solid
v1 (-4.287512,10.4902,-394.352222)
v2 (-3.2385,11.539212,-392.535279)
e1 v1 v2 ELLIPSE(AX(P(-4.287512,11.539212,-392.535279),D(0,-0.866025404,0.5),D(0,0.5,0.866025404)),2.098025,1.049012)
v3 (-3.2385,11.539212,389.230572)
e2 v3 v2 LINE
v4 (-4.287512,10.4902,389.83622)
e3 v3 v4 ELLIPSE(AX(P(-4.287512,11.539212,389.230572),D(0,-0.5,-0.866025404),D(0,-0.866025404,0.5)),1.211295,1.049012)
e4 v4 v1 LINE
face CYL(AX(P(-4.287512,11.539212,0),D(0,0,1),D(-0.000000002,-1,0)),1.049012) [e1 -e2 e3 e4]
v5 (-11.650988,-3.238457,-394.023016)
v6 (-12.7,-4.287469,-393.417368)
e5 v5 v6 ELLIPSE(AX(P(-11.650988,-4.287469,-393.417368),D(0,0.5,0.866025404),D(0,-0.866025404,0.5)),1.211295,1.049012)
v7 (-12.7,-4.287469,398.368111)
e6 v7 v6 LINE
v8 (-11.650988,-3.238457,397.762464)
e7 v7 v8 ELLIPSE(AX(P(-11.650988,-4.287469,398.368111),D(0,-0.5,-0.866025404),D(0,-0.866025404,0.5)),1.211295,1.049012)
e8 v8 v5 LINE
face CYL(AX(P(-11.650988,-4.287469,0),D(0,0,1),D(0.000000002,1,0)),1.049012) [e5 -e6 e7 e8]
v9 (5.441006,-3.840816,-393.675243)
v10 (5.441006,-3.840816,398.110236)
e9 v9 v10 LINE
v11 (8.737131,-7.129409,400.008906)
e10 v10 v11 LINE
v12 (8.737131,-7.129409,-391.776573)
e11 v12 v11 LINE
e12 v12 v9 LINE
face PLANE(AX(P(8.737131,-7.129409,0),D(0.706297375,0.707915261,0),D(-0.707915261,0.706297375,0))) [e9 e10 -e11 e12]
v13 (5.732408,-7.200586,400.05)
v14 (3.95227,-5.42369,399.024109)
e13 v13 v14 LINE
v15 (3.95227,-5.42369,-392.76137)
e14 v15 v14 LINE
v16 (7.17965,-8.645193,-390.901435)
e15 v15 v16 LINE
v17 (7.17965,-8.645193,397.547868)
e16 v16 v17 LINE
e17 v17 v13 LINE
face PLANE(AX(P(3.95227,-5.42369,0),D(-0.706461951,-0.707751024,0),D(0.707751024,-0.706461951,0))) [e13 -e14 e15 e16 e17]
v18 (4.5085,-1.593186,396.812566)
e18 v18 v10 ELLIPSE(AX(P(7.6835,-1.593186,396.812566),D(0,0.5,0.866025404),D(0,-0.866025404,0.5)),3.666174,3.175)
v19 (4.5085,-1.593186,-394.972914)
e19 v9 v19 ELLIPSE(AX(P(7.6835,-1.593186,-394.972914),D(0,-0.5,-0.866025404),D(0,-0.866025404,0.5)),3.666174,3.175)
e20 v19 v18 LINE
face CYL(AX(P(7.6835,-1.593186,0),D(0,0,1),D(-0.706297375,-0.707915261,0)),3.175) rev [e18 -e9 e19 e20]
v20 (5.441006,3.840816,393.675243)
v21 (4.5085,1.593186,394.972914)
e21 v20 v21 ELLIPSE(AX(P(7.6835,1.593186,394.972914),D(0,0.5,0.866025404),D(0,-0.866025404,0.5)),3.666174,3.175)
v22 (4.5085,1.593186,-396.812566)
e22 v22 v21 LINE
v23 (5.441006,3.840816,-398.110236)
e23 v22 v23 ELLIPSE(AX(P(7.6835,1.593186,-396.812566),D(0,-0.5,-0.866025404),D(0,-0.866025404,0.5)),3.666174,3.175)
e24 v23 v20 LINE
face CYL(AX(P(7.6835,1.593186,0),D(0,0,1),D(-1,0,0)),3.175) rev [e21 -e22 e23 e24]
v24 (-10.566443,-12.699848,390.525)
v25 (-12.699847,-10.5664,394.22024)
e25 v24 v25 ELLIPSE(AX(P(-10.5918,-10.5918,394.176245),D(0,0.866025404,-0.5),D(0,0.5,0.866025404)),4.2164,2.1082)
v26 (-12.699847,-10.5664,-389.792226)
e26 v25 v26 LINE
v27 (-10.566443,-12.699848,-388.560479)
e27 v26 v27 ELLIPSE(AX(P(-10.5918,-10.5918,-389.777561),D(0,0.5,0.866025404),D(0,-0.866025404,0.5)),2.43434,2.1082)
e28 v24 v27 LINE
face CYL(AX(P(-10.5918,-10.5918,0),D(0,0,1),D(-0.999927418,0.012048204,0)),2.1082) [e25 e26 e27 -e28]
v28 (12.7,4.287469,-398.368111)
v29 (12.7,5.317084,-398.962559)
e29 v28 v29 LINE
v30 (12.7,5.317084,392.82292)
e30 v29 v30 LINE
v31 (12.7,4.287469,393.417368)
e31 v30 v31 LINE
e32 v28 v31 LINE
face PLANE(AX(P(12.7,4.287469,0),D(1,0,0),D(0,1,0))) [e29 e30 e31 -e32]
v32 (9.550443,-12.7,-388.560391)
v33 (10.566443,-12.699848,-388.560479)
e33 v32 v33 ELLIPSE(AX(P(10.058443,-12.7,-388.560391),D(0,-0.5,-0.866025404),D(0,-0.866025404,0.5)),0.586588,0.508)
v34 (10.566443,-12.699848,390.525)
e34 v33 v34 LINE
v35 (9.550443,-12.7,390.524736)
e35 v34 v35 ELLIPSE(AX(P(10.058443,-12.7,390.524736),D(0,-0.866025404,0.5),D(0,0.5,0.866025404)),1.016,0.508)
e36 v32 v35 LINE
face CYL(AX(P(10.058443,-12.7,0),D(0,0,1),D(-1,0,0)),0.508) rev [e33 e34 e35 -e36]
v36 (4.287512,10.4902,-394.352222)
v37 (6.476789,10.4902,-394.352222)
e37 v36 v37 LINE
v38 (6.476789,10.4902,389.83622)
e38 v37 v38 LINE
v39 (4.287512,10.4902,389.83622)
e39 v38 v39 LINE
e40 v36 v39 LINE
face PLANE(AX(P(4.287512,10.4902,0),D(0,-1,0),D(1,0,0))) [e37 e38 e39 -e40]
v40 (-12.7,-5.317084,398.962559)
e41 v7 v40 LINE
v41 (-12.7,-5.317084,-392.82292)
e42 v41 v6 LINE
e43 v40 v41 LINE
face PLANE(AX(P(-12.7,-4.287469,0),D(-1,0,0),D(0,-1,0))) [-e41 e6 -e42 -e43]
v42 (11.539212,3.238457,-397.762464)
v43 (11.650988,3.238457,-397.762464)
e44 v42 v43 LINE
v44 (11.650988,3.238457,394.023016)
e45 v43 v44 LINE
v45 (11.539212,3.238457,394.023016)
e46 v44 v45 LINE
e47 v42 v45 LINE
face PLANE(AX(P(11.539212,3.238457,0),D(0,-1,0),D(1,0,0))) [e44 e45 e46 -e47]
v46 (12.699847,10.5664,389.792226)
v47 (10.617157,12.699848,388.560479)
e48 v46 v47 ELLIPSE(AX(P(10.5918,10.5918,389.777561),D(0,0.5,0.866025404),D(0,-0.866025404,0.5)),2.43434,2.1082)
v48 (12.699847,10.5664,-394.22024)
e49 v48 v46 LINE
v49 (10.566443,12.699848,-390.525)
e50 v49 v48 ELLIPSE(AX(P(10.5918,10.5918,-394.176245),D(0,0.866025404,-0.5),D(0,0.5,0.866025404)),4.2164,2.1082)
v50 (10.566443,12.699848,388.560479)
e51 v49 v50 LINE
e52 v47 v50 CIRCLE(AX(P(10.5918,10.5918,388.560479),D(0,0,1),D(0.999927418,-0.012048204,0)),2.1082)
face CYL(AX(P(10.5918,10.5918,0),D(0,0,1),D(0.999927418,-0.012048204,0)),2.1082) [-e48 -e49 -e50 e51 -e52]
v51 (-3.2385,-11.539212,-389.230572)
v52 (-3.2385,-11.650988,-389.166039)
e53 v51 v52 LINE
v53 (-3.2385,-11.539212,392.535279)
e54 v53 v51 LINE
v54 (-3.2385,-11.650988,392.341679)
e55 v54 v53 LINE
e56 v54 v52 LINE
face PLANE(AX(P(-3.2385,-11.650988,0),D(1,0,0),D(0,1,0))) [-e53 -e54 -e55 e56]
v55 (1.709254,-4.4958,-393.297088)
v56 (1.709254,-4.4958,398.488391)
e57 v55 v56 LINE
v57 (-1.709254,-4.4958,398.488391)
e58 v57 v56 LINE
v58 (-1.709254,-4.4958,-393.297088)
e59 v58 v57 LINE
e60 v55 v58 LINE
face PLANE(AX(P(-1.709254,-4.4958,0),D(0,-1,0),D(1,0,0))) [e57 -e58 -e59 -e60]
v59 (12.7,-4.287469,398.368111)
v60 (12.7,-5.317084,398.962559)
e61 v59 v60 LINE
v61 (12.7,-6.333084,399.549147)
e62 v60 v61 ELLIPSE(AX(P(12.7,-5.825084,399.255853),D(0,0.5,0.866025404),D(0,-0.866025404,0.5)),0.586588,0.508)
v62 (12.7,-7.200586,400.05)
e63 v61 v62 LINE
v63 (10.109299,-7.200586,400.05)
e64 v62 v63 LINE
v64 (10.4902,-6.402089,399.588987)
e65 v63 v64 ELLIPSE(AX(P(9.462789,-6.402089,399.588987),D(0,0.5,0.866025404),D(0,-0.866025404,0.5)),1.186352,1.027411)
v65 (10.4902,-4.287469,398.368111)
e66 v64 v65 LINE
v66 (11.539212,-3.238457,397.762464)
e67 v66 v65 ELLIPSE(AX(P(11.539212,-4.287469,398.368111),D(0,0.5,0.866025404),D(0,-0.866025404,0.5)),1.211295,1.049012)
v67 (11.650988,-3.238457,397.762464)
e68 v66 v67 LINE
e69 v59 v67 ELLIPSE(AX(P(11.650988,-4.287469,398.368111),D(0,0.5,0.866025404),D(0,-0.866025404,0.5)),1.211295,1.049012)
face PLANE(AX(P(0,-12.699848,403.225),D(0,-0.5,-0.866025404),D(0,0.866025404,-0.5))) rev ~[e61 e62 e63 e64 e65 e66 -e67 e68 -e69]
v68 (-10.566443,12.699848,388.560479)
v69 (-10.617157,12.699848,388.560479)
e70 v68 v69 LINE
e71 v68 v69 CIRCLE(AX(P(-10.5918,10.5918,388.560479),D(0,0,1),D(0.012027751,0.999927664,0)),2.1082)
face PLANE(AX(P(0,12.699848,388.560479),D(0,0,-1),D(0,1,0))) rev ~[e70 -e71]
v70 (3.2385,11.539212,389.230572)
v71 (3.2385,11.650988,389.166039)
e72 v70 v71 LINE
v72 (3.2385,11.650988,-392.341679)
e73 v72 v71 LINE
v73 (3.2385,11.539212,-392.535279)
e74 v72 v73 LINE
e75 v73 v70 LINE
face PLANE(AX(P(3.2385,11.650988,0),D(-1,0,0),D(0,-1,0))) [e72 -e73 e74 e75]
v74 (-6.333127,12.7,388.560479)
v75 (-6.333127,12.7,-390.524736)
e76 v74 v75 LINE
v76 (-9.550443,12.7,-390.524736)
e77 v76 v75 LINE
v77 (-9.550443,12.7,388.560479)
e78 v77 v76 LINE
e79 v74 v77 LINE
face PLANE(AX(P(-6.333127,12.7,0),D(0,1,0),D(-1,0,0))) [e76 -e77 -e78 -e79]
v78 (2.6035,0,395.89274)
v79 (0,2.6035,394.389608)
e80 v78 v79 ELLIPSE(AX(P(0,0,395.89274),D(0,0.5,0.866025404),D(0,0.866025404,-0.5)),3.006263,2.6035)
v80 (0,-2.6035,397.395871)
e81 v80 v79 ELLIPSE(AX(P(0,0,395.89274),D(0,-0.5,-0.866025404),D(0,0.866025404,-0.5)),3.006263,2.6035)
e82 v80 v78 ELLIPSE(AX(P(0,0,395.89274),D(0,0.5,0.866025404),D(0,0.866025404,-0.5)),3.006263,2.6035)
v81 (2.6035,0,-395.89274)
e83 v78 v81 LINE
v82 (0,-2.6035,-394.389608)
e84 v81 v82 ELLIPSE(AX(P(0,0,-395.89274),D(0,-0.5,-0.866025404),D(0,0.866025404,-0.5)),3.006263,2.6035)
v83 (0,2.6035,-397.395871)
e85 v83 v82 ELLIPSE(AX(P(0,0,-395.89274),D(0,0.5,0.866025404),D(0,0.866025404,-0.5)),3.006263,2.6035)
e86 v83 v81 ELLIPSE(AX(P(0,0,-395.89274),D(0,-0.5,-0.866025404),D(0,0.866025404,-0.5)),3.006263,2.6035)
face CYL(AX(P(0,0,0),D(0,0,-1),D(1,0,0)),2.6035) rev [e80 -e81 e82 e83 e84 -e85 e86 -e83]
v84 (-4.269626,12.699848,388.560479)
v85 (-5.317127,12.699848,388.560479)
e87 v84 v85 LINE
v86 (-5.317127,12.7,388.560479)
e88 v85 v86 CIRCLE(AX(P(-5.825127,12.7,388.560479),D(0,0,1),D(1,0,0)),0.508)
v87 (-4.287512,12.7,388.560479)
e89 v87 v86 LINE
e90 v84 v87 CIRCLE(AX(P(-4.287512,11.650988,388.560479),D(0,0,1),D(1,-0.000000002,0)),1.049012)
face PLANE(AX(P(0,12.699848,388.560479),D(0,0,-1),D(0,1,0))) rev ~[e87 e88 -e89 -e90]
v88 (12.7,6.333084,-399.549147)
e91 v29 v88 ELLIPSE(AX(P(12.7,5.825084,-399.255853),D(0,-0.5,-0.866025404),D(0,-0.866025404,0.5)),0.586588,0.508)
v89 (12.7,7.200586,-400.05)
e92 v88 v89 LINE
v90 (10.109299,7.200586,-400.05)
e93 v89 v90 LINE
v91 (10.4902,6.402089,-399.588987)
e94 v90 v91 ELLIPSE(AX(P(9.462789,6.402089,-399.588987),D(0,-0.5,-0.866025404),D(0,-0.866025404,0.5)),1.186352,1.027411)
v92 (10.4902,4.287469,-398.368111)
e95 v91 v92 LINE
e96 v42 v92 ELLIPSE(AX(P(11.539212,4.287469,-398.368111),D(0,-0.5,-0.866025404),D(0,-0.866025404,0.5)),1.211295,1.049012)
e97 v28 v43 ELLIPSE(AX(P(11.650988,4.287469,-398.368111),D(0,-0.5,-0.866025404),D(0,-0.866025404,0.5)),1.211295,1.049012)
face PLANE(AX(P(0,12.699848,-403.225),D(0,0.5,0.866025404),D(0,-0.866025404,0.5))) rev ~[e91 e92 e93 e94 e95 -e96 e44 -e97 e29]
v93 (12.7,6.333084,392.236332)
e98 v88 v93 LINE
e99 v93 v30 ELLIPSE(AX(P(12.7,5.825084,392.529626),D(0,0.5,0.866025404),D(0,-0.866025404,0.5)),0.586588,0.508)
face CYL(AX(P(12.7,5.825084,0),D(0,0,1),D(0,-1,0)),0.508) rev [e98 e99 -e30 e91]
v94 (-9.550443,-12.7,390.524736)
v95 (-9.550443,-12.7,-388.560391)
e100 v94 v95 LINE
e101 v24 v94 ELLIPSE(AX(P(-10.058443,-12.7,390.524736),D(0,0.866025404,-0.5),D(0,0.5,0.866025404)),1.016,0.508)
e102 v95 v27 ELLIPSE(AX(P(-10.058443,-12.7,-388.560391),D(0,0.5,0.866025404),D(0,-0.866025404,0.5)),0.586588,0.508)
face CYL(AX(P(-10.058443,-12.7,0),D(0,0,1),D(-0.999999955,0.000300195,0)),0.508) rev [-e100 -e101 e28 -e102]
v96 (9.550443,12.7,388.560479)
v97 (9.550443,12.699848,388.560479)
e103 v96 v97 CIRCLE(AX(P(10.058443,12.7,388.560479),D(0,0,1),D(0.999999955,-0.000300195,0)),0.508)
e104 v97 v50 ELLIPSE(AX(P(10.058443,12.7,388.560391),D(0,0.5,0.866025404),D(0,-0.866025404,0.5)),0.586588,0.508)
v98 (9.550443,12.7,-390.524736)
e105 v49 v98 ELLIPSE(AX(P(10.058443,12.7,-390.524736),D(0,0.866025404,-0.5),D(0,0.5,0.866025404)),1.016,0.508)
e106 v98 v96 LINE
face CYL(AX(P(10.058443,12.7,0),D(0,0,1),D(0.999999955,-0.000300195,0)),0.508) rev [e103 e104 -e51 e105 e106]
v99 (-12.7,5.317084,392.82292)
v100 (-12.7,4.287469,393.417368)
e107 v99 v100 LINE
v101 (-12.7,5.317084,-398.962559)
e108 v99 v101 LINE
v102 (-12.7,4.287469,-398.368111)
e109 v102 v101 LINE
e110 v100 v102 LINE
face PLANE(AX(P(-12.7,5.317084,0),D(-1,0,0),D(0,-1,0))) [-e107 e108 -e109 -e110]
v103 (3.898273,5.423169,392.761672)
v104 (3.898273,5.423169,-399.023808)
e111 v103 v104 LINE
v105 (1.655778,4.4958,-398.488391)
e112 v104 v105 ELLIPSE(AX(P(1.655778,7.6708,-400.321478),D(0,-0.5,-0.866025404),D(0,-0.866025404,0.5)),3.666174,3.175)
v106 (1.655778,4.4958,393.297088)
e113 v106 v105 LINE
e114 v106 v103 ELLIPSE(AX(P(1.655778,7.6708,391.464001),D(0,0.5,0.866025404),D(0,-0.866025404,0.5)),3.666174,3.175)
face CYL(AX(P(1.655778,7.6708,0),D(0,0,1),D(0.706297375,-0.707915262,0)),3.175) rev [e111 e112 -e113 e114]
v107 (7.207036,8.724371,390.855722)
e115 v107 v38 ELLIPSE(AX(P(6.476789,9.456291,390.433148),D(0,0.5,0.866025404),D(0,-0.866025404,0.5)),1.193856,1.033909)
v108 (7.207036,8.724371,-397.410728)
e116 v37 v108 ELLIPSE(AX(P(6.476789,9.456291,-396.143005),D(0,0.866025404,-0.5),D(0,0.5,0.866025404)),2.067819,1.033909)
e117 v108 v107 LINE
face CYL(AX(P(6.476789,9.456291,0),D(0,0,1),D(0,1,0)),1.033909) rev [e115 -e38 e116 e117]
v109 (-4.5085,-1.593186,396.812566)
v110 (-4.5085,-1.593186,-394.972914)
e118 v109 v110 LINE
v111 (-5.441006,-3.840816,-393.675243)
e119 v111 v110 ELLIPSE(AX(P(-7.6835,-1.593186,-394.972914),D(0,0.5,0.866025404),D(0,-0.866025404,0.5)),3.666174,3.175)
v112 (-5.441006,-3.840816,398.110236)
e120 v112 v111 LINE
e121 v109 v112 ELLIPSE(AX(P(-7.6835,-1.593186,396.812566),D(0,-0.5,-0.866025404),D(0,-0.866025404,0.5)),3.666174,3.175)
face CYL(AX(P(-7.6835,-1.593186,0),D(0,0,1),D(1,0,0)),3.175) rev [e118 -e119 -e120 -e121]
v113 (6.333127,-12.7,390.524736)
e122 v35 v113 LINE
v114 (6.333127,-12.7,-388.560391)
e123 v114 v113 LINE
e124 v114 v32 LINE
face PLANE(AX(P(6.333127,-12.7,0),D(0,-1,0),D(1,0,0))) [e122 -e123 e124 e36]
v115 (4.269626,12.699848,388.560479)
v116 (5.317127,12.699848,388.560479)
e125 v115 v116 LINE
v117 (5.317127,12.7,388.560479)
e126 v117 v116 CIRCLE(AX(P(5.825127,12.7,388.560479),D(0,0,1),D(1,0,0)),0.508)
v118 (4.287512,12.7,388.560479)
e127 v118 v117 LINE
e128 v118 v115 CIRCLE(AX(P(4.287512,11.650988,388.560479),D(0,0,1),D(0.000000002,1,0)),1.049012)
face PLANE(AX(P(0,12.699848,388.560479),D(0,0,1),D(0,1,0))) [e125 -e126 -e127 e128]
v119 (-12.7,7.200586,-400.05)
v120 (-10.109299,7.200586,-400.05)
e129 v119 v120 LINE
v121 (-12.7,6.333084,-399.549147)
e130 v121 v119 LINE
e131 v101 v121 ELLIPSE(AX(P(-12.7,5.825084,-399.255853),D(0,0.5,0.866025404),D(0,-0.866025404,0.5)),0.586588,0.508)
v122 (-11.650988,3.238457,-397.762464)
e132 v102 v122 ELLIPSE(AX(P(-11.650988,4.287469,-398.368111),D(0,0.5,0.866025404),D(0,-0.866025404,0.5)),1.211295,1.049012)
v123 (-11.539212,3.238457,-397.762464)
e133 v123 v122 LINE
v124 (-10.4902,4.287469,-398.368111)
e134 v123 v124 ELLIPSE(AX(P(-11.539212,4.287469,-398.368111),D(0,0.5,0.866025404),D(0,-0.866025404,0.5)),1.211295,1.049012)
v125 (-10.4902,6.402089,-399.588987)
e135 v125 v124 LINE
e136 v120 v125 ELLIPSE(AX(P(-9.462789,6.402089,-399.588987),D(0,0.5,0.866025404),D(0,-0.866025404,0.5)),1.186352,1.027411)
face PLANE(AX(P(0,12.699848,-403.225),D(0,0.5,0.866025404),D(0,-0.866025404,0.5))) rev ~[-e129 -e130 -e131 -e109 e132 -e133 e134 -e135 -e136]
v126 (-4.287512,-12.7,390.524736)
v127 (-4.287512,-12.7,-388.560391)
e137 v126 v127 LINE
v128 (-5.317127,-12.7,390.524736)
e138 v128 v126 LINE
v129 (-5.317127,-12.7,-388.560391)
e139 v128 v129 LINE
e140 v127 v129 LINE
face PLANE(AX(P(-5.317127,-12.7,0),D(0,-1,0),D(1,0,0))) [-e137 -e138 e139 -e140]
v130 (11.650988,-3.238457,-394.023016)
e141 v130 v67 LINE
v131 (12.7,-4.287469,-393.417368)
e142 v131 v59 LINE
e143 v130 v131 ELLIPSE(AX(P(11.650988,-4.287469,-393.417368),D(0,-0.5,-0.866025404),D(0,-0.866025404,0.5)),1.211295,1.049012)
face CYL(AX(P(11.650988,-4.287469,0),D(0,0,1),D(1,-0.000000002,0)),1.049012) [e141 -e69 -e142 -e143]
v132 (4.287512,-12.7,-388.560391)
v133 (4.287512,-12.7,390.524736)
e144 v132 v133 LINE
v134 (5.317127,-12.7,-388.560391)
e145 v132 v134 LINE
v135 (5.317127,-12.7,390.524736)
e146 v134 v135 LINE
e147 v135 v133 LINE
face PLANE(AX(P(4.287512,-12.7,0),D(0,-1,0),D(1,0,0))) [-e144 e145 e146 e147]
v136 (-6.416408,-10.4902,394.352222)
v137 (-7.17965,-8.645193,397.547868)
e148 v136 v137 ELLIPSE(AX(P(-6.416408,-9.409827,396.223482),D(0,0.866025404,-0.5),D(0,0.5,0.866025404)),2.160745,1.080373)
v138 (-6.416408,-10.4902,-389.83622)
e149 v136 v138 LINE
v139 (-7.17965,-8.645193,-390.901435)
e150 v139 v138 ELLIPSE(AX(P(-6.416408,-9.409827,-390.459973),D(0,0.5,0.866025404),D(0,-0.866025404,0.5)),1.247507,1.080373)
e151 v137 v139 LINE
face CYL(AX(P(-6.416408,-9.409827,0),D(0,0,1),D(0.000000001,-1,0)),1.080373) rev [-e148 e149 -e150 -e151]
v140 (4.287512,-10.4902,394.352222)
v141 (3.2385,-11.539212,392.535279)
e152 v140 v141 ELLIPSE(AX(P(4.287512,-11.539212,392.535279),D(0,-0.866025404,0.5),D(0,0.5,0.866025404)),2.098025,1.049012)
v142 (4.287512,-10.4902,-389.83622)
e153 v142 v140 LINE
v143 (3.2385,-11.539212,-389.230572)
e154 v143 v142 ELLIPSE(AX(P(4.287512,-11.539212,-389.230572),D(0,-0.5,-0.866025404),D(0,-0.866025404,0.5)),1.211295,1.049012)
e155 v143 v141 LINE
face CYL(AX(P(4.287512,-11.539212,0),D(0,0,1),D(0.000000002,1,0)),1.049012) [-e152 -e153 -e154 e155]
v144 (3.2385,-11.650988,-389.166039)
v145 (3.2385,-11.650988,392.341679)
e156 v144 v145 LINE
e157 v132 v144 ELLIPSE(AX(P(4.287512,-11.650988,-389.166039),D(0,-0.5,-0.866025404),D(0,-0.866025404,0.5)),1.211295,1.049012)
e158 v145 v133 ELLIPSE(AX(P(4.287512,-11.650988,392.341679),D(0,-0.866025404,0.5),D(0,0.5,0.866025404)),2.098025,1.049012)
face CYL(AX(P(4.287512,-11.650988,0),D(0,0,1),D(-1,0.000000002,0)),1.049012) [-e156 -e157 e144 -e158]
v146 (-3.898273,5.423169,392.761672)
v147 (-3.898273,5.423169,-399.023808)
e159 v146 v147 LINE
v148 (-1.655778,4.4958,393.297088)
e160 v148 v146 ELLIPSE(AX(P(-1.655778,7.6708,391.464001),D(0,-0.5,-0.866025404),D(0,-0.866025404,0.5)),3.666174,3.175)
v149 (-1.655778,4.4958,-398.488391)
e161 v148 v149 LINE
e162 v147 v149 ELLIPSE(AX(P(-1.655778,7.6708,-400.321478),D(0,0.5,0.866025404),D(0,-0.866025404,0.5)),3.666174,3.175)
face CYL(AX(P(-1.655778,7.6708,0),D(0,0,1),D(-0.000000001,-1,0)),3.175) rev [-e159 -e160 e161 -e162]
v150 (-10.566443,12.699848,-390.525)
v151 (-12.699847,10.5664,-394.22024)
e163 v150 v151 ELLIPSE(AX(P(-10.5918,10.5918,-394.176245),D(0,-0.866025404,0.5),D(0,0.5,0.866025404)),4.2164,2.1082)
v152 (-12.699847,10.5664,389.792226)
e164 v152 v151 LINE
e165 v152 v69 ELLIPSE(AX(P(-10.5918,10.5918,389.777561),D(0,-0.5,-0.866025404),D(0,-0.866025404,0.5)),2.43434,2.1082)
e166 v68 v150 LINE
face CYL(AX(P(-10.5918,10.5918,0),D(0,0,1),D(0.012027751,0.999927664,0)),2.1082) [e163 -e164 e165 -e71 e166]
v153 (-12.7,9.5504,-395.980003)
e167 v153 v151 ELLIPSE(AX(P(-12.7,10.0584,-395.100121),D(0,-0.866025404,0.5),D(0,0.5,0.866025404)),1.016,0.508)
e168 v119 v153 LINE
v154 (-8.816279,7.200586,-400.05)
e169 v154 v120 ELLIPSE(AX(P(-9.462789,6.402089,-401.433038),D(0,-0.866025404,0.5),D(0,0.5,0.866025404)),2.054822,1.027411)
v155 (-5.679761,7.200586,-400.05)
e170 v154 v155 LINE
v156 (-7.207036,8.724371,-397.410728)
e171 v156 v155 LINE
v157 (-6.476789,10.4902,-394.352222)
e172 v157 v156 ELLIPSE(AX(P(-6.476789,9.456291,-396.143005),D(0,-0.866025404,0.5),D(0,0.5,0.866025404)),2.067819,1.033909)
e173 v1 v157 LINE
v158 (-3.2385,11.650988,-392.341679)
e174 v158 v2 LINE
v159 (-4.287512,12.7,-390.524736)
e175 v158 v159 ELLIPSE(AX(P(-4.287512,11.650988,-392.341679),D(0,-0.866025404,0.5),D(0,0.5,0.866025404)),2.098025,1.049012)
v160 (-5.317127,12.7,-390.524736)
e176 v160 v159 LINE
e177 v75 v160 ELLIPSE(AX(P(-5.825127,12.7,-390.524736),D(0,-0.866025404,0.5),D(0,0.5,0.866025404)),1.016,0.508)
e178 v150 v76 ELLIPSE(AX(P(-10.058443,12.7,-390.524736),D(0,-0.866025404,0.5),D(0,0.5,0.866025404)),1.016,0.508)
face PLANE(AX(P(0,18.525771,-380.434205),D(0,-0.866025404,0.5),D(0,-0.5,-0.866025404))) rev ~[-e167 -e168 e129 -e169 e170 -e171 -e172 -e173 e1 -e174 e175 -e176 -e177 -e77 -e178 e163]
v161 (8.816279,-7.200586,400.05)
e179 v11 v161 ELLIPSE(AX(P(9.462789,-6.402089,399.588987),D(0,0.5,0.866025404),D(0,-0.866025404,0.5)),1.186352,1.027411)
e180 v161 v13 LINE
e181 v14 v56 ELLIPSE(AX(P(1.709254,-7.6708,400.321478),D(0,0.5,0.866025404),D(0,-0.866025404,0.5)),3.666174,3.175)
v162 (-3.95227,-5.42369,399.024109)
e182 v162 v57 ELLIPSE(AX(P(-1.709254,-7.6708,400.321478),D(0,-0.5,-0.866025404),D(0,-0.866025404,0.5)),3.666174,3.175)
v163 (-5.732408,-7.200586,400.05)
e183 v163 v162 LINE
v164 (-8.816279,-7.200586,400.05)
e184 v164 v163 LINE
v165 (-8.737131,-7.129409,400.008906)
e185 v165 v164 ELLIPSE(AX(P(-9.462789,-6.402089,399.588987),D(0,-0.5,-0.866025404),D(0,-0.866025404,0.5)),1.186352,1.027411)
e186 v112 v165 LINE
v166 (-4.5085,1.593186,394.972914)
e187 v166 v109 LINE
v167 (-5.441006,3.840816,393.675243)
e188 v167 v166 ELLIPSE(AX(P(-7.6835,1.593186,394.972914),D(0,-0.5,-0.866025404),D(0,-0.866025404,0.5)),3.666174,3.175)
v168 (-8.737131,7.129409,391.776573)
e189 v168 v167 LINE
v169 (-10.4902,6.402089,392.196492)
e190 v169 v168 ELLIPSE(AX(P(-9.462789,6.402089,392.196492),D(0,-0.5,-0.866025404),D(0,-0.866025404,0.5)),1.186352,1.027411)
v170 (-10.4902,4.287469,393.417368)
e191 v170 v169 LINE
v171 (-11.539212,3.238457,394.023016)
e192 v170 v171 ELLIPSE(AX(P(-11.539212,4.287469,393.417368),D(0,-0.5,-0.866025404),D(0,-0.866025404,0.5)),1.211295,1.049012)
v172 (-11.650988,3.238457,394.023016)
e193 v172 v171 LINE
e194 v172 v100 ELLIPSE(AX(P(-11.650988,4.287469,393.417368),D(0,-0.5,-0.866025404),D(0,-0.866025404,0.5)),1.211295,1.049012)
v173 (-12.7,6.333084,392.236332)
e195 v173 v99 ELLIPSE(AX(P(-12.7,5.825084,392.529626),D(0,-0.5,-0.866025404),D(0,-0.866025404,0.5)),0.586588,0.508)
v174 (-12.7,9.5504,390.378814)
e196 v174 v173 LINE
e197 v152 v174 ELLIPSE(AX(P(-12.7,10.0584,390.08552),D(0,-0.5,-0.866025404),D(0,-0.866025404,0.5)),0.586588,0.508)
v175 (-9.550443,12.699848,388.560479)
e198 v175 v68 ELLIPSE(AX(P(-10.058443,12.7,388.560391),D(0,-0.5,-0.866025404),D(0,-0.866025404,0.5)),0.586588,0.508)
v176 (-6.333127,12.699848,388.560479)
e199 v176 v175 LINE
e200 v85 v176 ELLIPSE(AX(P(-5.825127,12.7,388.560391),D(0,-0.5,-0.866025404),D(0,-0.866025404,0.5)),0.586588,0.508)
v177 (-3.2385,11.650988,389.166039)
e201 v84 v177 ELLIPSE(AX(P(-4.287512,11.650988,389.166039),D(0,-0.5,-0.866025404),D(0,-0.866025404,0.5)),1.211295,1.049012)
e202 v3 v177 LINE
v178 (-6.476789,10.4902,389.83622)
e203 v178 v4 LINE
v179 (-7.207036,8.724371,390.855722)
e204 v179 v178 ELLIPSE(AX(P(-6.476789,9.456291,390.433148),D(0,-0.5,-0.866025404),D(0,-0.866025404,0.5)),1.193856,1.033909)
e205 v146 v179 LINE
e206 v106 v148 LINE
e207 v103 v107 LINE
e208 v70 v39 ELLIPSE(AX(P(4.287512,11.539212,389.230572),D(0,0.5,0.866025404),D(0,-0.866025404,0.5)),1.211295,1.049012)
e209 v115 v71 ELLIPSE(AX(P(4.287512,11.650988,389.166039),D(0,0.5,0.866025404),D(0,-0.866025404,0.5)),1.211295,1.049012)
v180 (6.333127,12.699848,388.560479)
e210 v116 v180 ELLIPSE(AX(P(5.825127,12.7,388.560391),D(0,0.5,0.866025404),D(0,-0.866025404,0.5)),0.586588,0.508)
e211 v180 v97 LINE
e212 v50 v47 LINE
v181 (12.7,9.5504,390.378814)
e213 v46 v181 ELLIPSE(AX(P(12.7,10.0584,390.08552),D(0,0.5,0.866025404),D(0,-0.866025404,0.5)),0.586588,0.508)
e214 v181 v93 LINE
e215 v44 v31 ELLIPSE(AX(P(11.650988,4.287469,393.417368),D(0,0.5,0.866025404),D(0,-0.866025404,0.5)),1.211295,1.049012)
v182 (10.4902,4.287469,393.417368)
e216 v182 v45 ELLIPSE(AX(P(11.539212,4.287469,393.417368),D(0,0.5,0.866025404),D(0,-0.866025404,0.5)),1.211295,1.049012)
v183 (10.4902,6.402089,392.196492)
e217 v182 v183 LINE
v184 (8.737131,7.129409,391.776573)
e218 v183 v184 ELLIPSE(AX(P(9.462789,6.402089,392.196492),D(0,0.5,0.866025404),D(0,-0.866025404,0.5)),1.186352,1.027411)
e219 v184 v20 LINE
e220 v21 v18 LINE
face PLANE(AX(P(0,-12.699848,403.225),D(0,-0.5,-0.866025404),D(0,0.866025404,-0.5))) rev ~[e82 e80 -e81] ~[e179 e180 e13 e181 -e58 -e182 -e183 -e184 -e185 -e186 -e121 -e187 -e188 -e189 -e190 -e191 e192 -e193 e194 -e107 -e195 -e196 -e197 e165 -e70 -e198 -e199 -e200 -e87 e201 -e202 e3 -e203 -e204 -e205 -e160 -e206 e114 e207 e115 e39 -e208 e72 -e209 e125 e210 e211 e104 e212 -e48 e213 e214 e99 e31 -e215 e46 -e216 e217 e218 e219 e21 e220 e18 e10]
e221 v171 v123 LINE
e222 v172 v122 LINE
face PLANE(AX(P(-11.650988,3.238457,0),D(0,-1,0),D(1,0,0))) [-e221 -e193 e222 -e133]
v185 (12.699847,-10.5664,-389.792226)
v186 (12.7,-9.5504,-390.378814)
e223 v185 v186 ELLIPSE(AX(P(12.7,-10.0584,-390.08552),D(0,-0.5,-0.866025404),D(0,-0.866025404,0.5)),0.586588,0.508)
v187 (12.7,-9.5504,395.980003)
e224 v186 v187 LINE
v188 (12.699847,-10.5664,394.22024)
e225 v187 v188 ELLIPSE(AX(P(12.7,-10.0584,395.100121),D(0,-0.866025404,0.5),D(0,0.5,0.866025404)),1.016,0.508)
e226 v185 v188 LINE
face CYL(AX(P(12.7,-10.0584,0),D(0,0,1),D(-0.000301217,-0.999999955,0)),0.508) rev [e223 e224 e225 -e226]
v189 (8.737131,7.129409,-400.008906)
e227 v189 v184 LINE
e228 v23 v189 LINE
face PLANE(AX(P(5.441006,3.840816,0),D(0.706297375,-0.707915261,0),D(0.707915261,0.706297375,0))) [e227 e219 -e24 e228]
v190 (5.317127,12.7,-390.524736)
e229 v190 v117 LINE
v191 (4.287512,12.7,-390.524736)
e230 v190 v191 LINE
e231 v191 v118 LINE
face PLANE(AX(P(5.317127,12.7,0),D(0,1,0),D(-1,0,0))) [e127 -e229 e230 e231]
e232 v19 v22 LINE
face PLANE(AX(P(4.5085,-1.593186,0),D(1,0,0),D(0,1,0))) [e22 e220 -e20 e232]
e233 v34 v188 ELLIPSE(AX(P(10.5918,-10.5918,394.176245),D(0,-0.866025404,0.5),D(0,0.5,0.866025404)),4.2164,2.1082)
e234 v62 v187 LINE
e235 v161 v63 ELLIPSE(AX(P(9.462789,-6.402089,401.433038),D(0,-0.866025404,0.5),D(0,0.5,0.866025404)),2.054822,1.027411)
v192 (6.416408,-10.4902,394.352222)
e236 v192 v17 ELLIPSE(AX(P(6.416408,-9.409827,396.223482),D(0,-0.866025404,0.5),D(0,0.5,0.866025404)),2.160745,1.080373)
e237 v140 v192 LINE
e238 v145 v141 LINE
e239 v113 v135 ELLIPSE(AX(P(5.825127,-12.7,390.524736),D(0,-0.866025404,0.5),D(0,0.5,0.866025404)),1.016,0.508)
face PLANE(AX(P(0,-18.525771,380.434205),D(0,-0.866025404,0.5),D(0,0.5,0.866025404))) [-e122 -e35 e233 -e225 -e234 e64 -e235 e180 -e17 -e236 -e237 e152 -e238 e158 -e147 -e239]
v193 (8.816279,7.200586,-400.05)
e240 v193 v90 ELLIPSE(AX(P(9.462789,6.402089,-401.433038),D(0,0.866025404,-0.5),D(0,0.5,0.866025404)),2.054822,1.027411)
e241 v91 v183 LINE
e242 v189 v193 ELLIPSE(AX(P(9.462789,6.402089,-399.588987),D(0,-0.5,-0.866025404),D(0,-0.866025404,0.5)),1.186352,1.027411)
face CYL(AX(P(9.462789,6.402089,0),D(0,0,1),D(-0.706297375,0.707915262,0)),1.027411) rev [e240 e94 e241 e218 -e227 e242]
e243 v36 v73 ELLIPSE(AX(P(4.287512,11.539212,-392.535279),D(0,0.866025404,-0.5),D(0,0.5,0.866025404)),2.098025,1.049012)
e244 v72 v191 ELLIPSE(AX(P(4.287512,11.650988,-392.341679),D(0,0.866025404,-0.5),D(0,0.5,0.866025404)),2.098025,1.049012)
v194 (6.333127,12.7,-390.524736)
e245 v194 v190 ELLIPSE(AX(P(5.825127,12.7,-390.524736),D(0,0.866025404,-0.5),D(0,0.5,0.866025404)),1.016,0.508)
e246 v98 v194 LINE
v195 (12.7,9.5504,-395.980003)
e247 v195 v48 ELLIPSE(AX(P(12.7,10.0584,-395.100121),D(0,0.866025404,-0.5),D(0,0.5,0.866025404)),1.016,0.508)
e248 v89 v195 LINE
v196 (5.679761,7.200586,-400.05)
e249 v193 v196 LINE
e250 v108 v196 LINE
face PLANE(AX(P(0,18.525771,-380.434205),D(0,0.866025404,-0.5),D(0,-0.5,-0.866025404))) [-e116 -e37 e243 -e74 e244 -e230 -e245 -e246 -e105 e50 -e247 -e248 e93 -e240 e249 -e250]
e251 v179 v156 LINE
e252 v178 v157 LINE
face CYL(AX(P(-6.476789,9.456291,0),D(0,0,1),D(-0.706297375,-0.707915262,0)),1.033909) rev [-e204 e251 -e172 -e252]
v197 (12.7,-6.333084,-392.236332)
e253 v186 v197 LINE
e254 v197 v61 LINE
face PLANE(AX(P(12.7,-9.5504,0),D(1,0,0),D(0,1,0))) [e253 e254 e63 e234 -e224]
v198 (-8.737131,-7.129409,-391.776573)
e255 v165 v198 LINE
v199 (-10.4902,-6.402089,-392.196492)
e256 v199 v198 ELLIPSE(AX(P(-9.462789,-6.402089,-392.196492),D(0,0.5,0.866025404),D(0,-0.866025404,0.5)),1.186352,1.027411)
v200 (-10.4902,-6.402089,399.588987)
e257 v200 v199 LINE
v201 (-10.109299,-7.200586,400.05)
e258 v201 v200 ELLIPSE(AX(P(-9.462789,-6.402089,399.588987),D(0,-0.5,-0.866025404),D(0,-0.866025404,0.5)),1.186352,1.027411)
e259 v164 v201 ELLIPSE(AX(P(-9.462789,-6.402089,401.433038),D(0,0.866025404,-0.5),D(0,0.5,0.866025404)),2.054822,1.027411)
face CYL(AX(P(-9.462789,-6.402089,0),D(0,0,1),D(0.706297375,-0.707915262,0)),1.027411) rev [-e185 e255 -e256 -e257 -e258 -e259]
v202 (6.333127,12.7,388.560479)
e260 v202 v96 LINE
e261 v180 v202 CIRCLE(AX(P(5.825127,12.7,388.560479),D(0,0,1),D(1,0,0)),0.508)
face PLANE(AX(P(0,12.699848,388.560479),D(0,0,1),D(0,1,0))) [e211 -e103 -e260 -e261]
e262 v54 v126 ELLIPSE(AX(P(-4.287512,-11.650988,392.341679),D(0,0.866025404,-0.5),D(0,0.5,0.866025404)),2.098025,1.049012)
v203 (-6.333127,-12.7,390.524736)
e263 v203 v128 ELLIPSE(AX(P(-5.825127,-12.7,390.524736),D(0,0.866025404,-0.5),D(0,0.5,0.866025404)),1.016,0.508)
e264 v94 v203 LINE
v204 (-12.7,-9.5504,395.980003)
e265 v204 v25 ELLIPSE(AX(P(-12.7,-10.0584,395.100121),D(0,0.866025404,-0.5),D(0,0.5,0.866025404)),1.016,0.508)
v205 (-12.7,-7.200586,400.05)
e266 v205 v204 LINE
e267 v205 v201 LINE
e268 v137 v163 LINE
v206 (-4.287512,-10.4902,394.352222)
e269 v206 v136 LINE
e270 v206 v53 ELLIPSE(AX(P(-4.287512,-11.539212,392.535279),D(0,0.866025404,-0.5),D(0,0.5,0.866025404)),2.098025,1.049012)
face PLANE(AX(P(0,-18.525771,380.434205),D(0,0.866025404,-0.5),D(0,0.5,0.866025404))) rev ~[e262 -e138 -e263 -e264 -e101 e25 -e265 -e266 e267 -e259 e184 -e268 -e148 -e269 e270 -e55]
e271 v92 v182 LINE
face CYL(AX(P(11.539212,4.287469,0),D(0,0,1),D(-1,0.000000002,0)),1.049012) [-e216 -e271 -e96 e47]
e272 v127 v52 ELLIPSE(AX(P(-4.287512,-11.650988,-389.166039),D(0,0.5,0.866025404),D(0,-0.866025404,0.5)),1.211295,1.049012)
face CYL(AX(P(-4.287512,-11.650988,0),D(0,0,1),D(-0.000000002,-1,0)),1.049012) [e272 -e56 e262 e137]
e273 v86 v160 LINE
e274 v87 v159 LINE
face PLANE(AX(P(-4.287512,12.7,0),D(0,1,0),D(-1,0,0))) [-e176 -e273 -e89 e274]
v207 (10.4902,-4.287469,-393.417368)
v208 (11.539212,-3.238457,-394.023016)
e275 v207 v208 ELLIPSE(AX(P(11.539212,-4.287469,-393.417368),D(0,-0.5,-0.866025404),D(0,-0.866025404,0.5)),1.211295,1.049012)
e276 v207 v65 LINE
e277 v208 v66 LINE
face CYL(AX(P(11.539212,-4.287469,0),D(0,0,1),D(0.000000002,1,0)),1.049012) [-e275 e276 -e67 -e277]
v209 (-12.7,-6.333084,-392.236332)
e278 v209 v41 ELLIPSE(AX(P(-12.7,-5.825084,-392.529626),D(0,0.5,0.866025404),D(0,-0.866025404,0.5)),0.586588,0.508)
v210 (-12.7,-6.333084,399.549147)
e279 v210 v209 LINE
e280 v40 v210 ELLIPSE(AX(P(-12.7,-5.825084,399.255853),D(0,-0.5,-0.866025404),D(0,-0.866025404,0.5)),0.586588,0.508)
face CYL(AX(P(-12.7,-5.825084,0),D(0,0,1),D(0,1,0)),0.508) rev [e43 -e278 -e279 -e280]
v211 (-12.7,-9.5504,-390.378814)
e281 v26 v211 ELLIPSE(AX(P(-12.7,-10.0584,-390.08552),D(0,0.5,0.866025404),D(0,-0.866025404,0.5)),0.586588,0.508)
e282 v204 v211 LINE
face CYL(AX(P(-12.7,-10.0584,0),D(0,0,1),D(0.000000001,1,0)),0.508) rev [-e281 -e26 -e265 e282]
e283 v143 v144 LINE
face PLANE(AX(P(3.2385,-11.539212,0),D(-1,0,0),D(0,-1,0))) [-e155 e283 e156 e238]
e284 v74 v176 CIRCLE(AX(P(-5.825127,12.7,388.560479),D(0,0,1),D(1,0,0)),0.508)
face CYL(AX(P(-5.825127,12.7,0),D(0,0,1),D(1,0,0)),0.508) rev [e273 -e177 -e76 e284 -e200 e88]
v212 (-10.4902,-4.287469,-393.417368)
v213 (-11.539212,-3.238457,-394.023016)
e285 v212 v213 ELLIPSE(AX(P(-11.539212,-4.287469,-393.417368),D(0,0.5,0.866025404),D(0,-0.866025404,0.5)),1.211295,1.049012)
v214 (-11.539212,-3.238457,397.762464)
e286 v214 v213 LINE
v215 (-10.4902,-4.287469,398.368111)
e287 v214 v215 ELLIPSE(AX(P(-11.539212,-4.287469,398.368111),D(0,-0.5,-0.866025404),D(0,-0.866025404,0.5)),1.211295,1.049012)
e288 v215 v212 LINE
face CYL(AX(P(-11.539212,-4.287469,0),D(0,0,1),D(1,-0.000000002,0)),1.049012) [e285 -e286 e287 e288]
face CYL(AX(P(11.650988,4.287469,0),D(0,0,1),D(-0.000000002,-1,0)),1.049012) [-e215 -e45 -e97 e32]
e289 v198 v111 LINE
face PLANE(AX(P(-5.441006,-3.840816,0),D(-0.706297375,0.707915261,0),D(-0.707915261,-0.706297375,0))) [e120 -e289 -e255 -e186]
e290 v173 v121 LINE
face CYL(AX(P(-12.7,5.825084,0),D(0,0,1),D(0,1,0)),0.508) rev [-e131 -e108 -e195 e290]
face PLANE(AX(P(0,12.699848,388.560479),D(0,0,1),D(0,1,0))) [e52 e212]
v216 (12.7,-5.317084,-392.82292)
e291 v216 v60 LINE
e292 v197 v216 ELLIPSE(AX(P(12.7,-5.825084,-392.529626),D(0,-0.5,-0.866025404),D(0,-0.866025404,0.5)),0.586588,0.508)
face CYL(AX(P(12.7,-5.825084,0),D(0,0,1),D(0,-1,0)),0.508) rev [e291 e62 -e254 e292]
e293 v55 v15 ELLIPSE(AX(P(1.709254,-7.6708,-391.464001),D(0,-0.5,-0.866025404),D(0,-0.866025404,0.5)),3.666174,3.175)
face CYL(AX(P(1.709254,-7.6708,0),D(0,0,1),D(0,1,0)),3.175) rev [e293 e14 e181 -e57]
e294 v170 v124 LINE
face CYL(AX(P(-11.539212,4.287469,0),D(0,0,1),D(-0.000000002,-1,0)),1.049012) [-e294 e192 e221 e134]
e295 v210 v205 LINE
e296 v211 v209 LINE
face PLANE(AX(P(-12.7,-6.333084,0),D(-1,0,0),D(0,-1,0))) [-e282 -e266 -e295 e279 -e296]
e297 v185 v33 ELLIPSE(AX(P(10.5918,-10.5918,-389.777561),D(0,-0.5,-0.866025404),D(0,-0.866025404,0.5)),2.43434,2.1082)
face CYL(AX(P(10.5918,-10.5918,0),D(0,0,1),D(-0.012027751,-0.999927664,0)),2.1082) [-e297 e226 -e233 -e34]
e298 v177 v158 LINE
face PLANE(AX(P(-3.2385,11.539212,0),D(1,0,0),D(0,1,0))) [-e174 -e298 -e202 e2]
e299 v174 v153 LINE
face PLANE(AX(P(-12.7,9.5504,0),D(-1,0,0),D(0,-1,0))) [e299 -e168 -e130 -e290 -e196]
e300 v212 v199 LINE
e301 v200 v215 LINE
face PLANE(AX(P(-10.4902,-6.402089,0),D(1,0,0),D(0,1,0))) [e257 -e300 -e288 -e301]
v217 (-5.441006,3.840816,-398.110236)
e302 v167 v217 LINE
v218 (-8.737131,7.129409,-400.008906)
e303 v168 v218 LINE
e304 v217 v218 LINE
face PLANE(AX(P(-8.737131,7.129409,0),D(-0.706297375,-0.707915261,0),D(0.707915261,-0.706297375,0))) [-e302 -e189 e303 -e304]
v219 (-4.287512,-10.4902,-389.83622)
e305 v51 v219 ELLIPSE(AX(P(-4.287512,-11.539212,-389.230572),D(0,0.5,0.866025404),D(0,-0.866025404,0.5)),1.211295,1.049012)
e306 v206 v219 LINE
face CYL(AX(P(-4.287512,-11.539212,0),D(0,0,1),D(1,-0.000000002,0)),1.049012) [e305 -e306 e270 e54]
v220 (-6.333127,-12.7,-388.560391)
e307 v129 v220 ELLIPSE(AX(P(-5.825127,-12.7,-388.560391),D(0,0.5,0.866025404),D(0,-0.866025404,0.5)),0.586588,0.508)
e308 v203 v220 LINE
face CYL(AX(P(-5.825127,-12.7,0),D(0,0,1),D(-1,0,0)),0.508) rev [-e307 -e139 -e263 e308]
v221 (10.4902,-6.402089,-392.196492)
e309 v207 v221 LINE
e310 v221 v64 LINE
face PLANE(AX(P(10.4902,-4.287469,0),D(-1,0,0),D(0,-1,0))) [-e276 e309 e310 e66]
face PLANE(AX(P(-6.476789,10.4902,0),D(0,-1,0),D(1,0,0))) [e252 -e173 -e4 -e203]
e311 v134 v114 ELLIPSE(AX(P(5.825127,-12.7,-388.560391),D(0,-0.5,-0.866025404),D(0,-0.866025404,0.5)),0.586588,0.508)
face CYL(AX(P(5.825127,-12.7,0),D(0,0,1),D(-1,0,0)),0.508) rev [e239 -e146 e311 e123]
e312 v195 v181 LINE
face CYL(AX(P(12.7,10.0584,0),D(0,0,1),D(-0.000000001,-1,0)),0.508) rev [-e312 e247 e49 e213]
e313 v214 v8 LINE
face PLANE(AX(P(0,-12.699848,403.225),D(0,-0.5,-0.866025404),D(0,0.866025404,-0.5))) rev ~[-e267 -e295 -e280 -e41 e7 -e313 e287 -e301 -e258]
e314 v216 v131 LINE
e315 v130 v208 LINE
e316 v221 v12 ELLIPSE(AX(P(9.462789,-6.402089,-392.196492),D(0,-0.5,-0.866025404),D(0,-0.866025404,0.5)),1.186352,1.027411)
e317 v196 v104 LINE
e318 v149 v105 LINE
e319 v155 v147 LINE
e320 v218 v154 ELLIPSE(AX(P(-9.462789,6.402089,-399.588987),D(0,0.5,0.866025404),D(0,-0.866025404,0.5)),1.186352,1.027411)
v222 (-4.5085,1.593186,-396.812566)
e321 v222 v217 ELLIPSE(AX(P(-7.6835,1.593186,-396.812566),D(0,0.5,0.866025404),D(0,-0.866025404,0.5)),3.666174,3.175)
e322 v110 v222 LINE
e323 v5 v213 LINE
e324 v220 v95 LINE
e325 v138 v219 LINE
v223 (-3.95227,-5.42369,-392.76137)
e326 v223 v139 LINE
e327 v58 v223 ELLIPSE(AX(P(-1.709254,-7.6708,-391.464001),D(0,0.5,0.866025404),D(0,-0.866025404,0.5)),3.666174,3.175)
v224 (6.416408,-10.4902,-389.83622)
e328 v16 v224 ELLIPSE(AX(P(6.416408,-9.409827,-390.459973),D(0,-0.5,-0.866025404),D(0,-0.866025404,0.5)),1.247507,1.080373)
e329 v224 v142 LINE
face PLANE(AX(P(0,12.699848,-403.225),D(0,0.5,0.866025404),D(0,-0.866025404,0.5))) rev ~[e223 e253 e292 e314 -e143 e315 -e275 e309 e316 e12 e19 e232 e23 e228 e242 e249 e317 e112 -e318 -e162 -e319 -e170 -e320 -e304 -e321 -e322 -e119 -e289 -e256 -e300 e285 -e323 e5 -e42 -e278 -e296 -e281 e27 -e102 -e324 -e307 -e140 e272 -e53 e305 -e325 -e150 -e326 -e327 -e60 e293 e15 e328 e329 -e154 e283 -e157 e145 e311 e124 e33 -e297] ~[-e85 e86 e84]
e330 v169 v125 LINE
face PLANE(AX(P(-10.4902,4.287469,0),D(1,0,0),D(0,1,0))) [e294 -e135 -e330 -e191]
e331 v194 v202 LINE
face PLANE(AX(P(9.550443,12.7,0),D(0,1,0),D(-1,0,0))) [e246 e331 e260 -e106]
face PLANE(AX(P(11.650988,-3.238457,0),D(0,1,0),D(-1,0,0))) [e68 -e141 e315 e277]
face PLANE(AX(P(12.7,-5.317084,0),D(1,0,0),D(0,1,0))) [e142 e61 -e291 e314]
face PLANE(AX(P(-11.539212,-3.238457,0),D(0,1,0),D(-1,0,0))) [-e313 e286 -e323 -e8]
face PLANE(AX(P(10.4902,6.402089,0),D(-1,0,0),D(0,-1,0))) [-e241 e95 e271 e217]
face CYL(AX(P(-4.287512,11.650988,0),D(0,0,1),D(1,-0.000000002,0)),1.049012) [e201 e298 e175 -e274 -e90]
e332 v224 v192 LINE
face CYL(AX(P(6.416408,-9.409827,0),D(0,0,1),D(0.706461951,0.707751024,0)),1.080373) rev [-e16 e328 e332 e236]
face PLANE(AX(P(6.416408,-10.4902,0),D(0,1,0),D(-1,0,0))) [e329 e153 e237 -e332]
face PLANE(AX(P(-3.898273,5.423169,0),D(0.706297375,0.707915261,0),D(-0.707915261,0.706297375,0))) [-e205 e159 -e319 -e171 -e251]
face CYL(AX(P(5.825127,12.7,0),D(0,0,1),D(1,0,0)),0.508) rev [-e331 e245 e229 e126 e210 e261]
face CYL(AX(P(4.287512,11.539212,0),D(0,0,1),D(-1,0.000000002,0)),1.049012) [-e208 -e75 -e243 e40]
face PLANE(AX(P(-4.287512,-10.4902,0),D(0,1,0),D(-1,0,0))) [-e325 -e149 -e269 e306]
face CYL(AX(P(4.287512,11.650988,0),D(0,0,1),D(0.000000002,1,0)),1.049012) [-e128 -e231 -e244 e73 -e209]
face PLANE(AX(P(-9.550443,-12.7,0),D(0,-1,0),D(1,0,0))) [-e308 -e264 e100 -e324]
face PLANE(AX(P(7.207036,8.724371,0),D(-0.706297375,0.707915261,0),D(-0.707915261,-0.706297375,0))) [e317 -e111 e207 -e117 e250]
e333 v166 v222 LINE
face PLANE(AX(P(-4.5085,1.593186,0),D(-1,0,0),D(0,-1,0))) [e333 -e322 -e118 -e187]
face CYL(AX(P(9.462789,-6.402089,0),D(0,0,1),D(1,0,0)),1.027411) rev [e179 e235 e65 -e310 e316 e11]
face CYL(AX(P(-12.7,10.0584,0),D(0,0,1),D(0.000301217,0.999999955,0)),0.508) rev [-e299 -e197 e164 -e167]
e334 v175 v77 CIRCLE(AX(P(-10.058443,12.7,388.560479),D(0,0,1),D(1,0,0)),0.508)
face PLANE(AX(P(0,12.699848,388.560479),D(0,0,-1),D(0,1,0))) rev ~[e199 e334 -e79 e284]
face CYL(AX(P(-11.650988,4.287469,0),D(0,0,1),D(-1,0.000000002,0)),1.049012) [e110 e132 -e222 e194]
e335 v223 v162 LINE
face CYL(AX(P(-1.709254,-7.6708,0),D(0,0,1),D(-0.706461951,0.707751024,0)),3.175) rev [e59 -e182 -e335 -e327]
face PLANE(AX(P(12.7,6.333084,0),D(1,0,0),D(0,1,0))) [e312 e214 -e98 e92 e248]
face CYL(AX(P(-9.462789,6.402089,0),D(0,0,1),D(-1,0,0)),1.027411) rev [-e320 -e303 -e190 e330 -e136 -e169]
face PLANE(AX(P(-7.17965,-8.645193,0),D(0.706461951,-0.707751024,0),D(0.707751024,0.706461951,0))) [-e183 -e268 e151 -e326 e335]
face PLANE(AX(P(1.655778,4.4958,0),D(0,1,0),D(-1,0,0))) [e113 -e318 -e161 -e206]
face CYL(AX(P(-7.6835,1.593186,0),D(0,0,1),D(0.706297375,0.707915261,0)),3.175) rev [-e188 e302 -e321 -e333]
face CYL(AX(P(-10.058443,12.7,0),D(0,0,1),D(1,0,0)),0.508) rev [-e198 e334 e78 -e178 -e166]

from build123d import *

# Parameters (mm, degrees)
SKETCH1_R                    = 2.6035
BOSS_EXTRUDE1_DEPTH          = 403.225
F_30_DEG_END_TRIM_DEPTH      = 13.7
F_30_DEG_END_TRIM_DEPTH_BACK = 13.7
TRIM_TO_FIT_DEPTH            = 13.7
TRIM_TO_FIT_DEPTH_BACK       = 13.7


with BuildPart() as part:
    # Sketch1 → Boss-Extrude1 (new body, symmetric)
    with BuildSketch(Plane.XY):
        with BuildLine():
            Line((-7.179650497, -8.645192506), (-3.952270251, -5.423690499))
            ThreePointArc((-3.952270251, -5.423690499), (-2.922936451, -4.736929036), (-1.709253557, -4.4958))
            Line((-1.709253557, -4.4958), (1.709253557, -4.4958))
            ThreePointArc((1.709253557, -4.4958), (2.922936451, -4.736929036), (3.952270251, -5.423690499))
            Line((3.952270251, -5.423690499), (7.179650497, -8.645192506))
            ThreePointArc((7.179650497, -8.645192506), (7.41473083, -9.822813117), (6.416408329, -10.4902))
            Line((6.416408329, -10.4902), (4.287512407, -10.4902))
            ThreePointArc((4.287512407, -10.4902), (3.54574862, -10.79744862), (3.2385, -11.539212407))
            Line((3.2385, -11.539212407), (3.2385, -11.650987593))
            ThreePointArc((3.2385, -11.650987593), (3.54574862, -12.39275138), (4.287512407, -12.7))
            Line((4.287512407, -12.7), (5.317126718, -12.7))
            ThreePointArc((5.317126718, -12.7), (5.825126718, -12.192), (6.333126718, -12.7))
            Line((6.333126718, -12.7), (9.550443118, -12.7))
            ThreePointArc((9.550443118, -12.7), (10.058366869, -12.192000006), (10.566443095, -12.699847501))
            ThreePointArc((10.566443095, -12.699847501), (12.082537762, -12.08250727), (12.699846982, -10.566399977))
            ThreePointArc((12.699846982, -10.566399977), (12.192000006, -10.058323491), (12.7, -9.5504))
            Line((12.7, -9.5504), (12.7, -6.3330836))
            ThreePointArc((12.7, -6.3330836), (12.192, -5.8250836), (12.7, -5.3170836))
            Line((12.7, -5.3170836), (12.7, -4.287469289))
            ThreePointArc((12.7, -4.287469289), (12.39275138, -3.545705502), (11.650987593, -3.238456882))
            Line((11.650987593, -3.238456882), (11.539212407, -3.238456882))
            ThreePointArc((11.539212407, -3.238456882), (10.79744862, -3.545705502), (10.4902, -4.287469289))
            Line((10.4902, -4.287469289), (10.4902, -6.402089023))
            ThreePointArc((10.4902, -6.402089023), (9.856505071, -7.351067942), (8.737131347, -7.129408934))
            Line((8.737131347, -7.129408934), (5.441005833, -3.840816462))
            ThreePointArc((5.441005833, -3.840816462), (4.750877967, -2.809883091), (4.5085, -1.593185507))
            Line((4.5085, -1.593185507), (4.5085, 1.593185507))
            ThreePointArc((4.5085, 1.593185507), (4.750877967, 2.809883091), (5.441005833, 3.840816462))
            Line((5.441005833, 3.840816462), (8.737131347, 7.129408934))
            ThreePointArc((8.737131347, 7.129408934), (9.856505071, 7.351067942), (10.4902, 6.402089023))
            Line((10.4902, 6.402089023), (10.4902, 4.287469289))
            ThreePointArc((10.4902, 4.287469289), (10.79744862, 3.545705502), (11.539212407, 3.238456882))
            Line((11.539212407, 3.238456882), (11.650987593, 3.238456882))
            ThreePointArc((11.650987593, 3.238456882), (12.39275138, 3.545705502), (12.7, 4.287469289))
            Line((12.7, 4.287469289), (12.7, 5.3170836))
            ThreePointArc((12.7, 5.3170836), (12.192, 5.8250836), (12.7, 6.3330836))
            Line((12.7, 6.3330836), (12.7, 9.5504))
            ThreePointArc((12.7, 9.5504), (12.192000006, 10.058323491), (12.699846982, 10.566399977))
            ThreePointArc((12.699846982, 10.566399977), (12.082537762, 12.08250727), (10.566443095, 12.699847501))
            ThreePointArc((10.566443095, 12.699847501), (10.058366869, 12.192000006), (9.550443118, 12.7))
            Line((9.550443118, 12.7), (6.333126718, 12.7))
            ThreePointArc((6.333126718, 12.7), (5.825126718, 12.192), (5.317126718, 12.7))
            Line((5.317126718, 12.7), (4.287512407, 12.7))
            ThreePointArc((4.287512407, 12.7), (3.54574862, 12.39275138), (3.2385, 11.650987593))
            Line((3.2385, 11.650987593), (3.2385, 11.539212407))
            ThreePointArc((3.2385, 11.539212407), (3.54574862, 10.79744862), (4.287512407, 10.4902))
            Line((4.287512407, 10.4902), (6.476788598, 10.4902))
            ThreePointArc((6.476788598, 10.4902), (7.432222385, 9.85140422), (7.207036008, 8.724370562))
            Line((7.207036008, 8.724370562), (3.898272566, 5.423169045))
            ThreePointArc((3.898272566, 5.423169045), (2.869120213, 4.736787962), (1.655778399, 4.4958))
            Line((1.655778399, 4.4958), (-1.655778399, 4.4958))
            ThreePointArc((-1.655778399, 4.4958), (-2.869120213, 4.736787962), (-3.898272566, 5.423169045))
            Line((-3.898272566, 5.423169045), (-7.207036008, 8.724370562))
            ThreePointArc((-7.207036008, 8.724370562), (-7.432222385, 9.85140422), (-6.476788598, 10.4902))
            Line((-6.476788598, 10.4902), (-4.287512407, 10.4902))
            ThreePointArc((-4.287512407, 10.4902), (-3.54574862, 10.79744862), (-3.2385, 11.539212407))
            Line((-3.2385, 11.539212407), (-3.2385, 11.650987593))
            ThreePointArc((-3.2385, 11.650987593), (-3.54574862, 12.39275138), (-4.287512407, 12.7))
            Line((-4.287512407, 12.7), (-5.317126718, 12.7))
            ThreePointArc((-5.317126718, 12.7), (-5.825126718, 12.192), (-6.333126718, 12.7))
            Line((-6.333126718, 12.7), (-9.550443118, 12.7))
            ThreePointArc((-9.550443118, 12.7), (-10.058366869, 12.192000006), (-10.566443095, 12.699847501))
            ThreePointArc((-10.566443095, 12.699847501), (-12.082537762, 12.08250727), (-12.699846982, 10.566399977))
            ThreePointArc((-12.699846982, 10.566399977), (-12.192000006, 10.058323491), (-12.7, 9.5504))
            Line((-12.7, 9.5504), (-12.7, 6.3330836))
            ThreePointArc((-12.7, 6.3330836), (-12.192, 5.8250836), (-12.7, 5.3170836))
            Line((-12.7, 5.3170836), (-12.7, 4.287469289))
            ThreePointArc((-12.7, 4.287469289), (-12.39275138, 3.545705502), (-11.650987593, 3.238456882))
            Line((-11.650987593, 3.238456882), (-11.539212407, 3.238456882))
            ThreePointArc((-11.539212407, 3.238456882), (-10.79744862, 3.545705502), (-10.4902, 4.287469289))
            Line((-10.4902, 4.287469289), (-10.4902, 6.402089023))
            ThreePointArc((-10.4902, 6.402089023), (-9.856505071, 7.351067942), (-8.737131347, 7.129408934))
            Line((-8.737131347, 7.129408934), (-5.441005833, 3.840816462))
            ThreePointArc((-5.441005833, 3.840816462), (-4.750877967, 2.809883091), (-4.5085, 1.593185507))
            Line((-4.5085, 1.593185507), (-4.5085, -1.593185507))
            ThreePointArc((-4.5085, -1.593185507), (-4.750877967, -2.809883091), (-5.441005833, -3.840816462))
            Line((-5.441005833, -3.840816462), (-8.737131347, -7.129408934))
            ThreePointArc((-8.737131347, -7.129408934), (-9.856505071, -7.351067942), (-10.4902, -6.402089023))
            Line((-10.4902, -6.402089023), (-10.4902, -4.287469289))
            ThreePointArc((-10.4902, -4.287469289), (-10.79744862, -3.545705502), (-11.539212407, -3.238456882))
            Line((-11.539212407, -3.238456882), (-11.650987593, -3.238456882))
            ThreePointArc((-11.650987593, -3.238456882), (-12.39275138, -3.545705502), (-12.7, -4.287469289))
            Line((-12.7, -4.287469289), (-12.7, -5.3170836))
            ThreePointArc((-12.7, -5.3170836), (-12.192, -5.8250836), (-12.7, -6.3330836))
            Line((-12.7, -6.3330836), (-12.7, -9.5504))
            ThreePointArc((-12.7, -9.5504), (-12.192000006, -10.058323491), (-12.699846982, -10.566399977))
            ThreePointArc((-12.699846982, -10.566399977), (-12.082537762, -12.08250727), (-10.566443095, -12.699847501))
            ThreePointArc((-10.566443095, -12.699847501), (-10.058366869, -12.192000006), (-9.550443118, -12.7))
            Line((-9.550443118, -12.7), (-6.333126718, -12.7))
            ThreePointArc((-6.333126718, -12.7), (-5.825126718, -12.192), (-5.317126718, -12.7))
            Line((-5.317126718, -12.7), (-4.287512407, -12.7))
            ThreePointArc((-4.287512407, -12.7), (-3.54574862, -12.39275138), (-3.2385, -11.650987593))
            Line((-3.2385, -11.650987593), (-3.2385, -11.539212407))
            ThreePointArc((-3.2385, -11.539212407), (-3.54574862, -10.79744862), (-4.287512407, -10.4902))
            Line((-4.287512407, -10.4902), (-6.416408329, -10.4902))
            ThreePointArc((-6.416408329, -10.4902), (-7.41473083, -9.822813117), (-7.179650497, -8.645192506))
        make_face()
        Circle(SKETCH1_R, mode=Mode.SUBTRACT)
    extrude(amount=BOSS_EXTRUDE1_DEPTH, both=True)

    # Sketch2 → 30 Deg End Trim (cut, two sides)
    with BuildSketch(Plane(origin=(0, 0, 0), x_dir=(0, 0, -1), z_dir=(1, 0, 0))) as f_30_deg_end_trim_sk:
        Polygon((-403.225, -12.699847501), (-388.560479253, 12.699847501), (-388.560479253, 30.675819206), (-403.225, 30.675819206), (-403.225, 12.699847501), align=None)
        Polygon((403.225, -12.699847501), (403.225, 12.699847501), (381.811418901, -24.389562935), (391.735479253, -24.391206459), (403.225, -24.391206459), align=None)
    extrude(amount=F_30_DEG_END_TRIM_DEPTH, mode=Mode.SUBTRACT)
    extrude(f_30_deg_end_trim_sk.sketch, amount=-F_30_DEG_END_TRIM_DEPTH_BACK, mode=Mode.SUBTRACT)

    # Sketch3 → Trim to Fit (cut, two sides)
    with BuildSketch(Plane(origin=(0, 0, 0), x_dir=(0, 0, -1), z_dir=(1, 0, 0))) as trim_to_fit_sk:
        Polygon((-402.43125, -5.825770859), (-423.077780638, -5.825770859), (-423.077780638, -25.399847501), (-384.402954744, -25.399847501), (-380.434204744, -18.525770859), align=None)
        Polygon((402.43125, 5.825770859), (411.263329156, 0.726567581), (422.901533851, 20.884529422), (384.402954744, 25.399847501), (380.434204744, 18.525770859), align=None)
    extrude(amount=TRIM_TO_FIT_DEPTH, mode=Mode.SUBTRACT)
    extrude(trim_to_fit_sk.sketch, amount=-TRIM_TO_FIT_DEPTH_BACK, mode=Mode.SUBTRACT)


solid = part.part
